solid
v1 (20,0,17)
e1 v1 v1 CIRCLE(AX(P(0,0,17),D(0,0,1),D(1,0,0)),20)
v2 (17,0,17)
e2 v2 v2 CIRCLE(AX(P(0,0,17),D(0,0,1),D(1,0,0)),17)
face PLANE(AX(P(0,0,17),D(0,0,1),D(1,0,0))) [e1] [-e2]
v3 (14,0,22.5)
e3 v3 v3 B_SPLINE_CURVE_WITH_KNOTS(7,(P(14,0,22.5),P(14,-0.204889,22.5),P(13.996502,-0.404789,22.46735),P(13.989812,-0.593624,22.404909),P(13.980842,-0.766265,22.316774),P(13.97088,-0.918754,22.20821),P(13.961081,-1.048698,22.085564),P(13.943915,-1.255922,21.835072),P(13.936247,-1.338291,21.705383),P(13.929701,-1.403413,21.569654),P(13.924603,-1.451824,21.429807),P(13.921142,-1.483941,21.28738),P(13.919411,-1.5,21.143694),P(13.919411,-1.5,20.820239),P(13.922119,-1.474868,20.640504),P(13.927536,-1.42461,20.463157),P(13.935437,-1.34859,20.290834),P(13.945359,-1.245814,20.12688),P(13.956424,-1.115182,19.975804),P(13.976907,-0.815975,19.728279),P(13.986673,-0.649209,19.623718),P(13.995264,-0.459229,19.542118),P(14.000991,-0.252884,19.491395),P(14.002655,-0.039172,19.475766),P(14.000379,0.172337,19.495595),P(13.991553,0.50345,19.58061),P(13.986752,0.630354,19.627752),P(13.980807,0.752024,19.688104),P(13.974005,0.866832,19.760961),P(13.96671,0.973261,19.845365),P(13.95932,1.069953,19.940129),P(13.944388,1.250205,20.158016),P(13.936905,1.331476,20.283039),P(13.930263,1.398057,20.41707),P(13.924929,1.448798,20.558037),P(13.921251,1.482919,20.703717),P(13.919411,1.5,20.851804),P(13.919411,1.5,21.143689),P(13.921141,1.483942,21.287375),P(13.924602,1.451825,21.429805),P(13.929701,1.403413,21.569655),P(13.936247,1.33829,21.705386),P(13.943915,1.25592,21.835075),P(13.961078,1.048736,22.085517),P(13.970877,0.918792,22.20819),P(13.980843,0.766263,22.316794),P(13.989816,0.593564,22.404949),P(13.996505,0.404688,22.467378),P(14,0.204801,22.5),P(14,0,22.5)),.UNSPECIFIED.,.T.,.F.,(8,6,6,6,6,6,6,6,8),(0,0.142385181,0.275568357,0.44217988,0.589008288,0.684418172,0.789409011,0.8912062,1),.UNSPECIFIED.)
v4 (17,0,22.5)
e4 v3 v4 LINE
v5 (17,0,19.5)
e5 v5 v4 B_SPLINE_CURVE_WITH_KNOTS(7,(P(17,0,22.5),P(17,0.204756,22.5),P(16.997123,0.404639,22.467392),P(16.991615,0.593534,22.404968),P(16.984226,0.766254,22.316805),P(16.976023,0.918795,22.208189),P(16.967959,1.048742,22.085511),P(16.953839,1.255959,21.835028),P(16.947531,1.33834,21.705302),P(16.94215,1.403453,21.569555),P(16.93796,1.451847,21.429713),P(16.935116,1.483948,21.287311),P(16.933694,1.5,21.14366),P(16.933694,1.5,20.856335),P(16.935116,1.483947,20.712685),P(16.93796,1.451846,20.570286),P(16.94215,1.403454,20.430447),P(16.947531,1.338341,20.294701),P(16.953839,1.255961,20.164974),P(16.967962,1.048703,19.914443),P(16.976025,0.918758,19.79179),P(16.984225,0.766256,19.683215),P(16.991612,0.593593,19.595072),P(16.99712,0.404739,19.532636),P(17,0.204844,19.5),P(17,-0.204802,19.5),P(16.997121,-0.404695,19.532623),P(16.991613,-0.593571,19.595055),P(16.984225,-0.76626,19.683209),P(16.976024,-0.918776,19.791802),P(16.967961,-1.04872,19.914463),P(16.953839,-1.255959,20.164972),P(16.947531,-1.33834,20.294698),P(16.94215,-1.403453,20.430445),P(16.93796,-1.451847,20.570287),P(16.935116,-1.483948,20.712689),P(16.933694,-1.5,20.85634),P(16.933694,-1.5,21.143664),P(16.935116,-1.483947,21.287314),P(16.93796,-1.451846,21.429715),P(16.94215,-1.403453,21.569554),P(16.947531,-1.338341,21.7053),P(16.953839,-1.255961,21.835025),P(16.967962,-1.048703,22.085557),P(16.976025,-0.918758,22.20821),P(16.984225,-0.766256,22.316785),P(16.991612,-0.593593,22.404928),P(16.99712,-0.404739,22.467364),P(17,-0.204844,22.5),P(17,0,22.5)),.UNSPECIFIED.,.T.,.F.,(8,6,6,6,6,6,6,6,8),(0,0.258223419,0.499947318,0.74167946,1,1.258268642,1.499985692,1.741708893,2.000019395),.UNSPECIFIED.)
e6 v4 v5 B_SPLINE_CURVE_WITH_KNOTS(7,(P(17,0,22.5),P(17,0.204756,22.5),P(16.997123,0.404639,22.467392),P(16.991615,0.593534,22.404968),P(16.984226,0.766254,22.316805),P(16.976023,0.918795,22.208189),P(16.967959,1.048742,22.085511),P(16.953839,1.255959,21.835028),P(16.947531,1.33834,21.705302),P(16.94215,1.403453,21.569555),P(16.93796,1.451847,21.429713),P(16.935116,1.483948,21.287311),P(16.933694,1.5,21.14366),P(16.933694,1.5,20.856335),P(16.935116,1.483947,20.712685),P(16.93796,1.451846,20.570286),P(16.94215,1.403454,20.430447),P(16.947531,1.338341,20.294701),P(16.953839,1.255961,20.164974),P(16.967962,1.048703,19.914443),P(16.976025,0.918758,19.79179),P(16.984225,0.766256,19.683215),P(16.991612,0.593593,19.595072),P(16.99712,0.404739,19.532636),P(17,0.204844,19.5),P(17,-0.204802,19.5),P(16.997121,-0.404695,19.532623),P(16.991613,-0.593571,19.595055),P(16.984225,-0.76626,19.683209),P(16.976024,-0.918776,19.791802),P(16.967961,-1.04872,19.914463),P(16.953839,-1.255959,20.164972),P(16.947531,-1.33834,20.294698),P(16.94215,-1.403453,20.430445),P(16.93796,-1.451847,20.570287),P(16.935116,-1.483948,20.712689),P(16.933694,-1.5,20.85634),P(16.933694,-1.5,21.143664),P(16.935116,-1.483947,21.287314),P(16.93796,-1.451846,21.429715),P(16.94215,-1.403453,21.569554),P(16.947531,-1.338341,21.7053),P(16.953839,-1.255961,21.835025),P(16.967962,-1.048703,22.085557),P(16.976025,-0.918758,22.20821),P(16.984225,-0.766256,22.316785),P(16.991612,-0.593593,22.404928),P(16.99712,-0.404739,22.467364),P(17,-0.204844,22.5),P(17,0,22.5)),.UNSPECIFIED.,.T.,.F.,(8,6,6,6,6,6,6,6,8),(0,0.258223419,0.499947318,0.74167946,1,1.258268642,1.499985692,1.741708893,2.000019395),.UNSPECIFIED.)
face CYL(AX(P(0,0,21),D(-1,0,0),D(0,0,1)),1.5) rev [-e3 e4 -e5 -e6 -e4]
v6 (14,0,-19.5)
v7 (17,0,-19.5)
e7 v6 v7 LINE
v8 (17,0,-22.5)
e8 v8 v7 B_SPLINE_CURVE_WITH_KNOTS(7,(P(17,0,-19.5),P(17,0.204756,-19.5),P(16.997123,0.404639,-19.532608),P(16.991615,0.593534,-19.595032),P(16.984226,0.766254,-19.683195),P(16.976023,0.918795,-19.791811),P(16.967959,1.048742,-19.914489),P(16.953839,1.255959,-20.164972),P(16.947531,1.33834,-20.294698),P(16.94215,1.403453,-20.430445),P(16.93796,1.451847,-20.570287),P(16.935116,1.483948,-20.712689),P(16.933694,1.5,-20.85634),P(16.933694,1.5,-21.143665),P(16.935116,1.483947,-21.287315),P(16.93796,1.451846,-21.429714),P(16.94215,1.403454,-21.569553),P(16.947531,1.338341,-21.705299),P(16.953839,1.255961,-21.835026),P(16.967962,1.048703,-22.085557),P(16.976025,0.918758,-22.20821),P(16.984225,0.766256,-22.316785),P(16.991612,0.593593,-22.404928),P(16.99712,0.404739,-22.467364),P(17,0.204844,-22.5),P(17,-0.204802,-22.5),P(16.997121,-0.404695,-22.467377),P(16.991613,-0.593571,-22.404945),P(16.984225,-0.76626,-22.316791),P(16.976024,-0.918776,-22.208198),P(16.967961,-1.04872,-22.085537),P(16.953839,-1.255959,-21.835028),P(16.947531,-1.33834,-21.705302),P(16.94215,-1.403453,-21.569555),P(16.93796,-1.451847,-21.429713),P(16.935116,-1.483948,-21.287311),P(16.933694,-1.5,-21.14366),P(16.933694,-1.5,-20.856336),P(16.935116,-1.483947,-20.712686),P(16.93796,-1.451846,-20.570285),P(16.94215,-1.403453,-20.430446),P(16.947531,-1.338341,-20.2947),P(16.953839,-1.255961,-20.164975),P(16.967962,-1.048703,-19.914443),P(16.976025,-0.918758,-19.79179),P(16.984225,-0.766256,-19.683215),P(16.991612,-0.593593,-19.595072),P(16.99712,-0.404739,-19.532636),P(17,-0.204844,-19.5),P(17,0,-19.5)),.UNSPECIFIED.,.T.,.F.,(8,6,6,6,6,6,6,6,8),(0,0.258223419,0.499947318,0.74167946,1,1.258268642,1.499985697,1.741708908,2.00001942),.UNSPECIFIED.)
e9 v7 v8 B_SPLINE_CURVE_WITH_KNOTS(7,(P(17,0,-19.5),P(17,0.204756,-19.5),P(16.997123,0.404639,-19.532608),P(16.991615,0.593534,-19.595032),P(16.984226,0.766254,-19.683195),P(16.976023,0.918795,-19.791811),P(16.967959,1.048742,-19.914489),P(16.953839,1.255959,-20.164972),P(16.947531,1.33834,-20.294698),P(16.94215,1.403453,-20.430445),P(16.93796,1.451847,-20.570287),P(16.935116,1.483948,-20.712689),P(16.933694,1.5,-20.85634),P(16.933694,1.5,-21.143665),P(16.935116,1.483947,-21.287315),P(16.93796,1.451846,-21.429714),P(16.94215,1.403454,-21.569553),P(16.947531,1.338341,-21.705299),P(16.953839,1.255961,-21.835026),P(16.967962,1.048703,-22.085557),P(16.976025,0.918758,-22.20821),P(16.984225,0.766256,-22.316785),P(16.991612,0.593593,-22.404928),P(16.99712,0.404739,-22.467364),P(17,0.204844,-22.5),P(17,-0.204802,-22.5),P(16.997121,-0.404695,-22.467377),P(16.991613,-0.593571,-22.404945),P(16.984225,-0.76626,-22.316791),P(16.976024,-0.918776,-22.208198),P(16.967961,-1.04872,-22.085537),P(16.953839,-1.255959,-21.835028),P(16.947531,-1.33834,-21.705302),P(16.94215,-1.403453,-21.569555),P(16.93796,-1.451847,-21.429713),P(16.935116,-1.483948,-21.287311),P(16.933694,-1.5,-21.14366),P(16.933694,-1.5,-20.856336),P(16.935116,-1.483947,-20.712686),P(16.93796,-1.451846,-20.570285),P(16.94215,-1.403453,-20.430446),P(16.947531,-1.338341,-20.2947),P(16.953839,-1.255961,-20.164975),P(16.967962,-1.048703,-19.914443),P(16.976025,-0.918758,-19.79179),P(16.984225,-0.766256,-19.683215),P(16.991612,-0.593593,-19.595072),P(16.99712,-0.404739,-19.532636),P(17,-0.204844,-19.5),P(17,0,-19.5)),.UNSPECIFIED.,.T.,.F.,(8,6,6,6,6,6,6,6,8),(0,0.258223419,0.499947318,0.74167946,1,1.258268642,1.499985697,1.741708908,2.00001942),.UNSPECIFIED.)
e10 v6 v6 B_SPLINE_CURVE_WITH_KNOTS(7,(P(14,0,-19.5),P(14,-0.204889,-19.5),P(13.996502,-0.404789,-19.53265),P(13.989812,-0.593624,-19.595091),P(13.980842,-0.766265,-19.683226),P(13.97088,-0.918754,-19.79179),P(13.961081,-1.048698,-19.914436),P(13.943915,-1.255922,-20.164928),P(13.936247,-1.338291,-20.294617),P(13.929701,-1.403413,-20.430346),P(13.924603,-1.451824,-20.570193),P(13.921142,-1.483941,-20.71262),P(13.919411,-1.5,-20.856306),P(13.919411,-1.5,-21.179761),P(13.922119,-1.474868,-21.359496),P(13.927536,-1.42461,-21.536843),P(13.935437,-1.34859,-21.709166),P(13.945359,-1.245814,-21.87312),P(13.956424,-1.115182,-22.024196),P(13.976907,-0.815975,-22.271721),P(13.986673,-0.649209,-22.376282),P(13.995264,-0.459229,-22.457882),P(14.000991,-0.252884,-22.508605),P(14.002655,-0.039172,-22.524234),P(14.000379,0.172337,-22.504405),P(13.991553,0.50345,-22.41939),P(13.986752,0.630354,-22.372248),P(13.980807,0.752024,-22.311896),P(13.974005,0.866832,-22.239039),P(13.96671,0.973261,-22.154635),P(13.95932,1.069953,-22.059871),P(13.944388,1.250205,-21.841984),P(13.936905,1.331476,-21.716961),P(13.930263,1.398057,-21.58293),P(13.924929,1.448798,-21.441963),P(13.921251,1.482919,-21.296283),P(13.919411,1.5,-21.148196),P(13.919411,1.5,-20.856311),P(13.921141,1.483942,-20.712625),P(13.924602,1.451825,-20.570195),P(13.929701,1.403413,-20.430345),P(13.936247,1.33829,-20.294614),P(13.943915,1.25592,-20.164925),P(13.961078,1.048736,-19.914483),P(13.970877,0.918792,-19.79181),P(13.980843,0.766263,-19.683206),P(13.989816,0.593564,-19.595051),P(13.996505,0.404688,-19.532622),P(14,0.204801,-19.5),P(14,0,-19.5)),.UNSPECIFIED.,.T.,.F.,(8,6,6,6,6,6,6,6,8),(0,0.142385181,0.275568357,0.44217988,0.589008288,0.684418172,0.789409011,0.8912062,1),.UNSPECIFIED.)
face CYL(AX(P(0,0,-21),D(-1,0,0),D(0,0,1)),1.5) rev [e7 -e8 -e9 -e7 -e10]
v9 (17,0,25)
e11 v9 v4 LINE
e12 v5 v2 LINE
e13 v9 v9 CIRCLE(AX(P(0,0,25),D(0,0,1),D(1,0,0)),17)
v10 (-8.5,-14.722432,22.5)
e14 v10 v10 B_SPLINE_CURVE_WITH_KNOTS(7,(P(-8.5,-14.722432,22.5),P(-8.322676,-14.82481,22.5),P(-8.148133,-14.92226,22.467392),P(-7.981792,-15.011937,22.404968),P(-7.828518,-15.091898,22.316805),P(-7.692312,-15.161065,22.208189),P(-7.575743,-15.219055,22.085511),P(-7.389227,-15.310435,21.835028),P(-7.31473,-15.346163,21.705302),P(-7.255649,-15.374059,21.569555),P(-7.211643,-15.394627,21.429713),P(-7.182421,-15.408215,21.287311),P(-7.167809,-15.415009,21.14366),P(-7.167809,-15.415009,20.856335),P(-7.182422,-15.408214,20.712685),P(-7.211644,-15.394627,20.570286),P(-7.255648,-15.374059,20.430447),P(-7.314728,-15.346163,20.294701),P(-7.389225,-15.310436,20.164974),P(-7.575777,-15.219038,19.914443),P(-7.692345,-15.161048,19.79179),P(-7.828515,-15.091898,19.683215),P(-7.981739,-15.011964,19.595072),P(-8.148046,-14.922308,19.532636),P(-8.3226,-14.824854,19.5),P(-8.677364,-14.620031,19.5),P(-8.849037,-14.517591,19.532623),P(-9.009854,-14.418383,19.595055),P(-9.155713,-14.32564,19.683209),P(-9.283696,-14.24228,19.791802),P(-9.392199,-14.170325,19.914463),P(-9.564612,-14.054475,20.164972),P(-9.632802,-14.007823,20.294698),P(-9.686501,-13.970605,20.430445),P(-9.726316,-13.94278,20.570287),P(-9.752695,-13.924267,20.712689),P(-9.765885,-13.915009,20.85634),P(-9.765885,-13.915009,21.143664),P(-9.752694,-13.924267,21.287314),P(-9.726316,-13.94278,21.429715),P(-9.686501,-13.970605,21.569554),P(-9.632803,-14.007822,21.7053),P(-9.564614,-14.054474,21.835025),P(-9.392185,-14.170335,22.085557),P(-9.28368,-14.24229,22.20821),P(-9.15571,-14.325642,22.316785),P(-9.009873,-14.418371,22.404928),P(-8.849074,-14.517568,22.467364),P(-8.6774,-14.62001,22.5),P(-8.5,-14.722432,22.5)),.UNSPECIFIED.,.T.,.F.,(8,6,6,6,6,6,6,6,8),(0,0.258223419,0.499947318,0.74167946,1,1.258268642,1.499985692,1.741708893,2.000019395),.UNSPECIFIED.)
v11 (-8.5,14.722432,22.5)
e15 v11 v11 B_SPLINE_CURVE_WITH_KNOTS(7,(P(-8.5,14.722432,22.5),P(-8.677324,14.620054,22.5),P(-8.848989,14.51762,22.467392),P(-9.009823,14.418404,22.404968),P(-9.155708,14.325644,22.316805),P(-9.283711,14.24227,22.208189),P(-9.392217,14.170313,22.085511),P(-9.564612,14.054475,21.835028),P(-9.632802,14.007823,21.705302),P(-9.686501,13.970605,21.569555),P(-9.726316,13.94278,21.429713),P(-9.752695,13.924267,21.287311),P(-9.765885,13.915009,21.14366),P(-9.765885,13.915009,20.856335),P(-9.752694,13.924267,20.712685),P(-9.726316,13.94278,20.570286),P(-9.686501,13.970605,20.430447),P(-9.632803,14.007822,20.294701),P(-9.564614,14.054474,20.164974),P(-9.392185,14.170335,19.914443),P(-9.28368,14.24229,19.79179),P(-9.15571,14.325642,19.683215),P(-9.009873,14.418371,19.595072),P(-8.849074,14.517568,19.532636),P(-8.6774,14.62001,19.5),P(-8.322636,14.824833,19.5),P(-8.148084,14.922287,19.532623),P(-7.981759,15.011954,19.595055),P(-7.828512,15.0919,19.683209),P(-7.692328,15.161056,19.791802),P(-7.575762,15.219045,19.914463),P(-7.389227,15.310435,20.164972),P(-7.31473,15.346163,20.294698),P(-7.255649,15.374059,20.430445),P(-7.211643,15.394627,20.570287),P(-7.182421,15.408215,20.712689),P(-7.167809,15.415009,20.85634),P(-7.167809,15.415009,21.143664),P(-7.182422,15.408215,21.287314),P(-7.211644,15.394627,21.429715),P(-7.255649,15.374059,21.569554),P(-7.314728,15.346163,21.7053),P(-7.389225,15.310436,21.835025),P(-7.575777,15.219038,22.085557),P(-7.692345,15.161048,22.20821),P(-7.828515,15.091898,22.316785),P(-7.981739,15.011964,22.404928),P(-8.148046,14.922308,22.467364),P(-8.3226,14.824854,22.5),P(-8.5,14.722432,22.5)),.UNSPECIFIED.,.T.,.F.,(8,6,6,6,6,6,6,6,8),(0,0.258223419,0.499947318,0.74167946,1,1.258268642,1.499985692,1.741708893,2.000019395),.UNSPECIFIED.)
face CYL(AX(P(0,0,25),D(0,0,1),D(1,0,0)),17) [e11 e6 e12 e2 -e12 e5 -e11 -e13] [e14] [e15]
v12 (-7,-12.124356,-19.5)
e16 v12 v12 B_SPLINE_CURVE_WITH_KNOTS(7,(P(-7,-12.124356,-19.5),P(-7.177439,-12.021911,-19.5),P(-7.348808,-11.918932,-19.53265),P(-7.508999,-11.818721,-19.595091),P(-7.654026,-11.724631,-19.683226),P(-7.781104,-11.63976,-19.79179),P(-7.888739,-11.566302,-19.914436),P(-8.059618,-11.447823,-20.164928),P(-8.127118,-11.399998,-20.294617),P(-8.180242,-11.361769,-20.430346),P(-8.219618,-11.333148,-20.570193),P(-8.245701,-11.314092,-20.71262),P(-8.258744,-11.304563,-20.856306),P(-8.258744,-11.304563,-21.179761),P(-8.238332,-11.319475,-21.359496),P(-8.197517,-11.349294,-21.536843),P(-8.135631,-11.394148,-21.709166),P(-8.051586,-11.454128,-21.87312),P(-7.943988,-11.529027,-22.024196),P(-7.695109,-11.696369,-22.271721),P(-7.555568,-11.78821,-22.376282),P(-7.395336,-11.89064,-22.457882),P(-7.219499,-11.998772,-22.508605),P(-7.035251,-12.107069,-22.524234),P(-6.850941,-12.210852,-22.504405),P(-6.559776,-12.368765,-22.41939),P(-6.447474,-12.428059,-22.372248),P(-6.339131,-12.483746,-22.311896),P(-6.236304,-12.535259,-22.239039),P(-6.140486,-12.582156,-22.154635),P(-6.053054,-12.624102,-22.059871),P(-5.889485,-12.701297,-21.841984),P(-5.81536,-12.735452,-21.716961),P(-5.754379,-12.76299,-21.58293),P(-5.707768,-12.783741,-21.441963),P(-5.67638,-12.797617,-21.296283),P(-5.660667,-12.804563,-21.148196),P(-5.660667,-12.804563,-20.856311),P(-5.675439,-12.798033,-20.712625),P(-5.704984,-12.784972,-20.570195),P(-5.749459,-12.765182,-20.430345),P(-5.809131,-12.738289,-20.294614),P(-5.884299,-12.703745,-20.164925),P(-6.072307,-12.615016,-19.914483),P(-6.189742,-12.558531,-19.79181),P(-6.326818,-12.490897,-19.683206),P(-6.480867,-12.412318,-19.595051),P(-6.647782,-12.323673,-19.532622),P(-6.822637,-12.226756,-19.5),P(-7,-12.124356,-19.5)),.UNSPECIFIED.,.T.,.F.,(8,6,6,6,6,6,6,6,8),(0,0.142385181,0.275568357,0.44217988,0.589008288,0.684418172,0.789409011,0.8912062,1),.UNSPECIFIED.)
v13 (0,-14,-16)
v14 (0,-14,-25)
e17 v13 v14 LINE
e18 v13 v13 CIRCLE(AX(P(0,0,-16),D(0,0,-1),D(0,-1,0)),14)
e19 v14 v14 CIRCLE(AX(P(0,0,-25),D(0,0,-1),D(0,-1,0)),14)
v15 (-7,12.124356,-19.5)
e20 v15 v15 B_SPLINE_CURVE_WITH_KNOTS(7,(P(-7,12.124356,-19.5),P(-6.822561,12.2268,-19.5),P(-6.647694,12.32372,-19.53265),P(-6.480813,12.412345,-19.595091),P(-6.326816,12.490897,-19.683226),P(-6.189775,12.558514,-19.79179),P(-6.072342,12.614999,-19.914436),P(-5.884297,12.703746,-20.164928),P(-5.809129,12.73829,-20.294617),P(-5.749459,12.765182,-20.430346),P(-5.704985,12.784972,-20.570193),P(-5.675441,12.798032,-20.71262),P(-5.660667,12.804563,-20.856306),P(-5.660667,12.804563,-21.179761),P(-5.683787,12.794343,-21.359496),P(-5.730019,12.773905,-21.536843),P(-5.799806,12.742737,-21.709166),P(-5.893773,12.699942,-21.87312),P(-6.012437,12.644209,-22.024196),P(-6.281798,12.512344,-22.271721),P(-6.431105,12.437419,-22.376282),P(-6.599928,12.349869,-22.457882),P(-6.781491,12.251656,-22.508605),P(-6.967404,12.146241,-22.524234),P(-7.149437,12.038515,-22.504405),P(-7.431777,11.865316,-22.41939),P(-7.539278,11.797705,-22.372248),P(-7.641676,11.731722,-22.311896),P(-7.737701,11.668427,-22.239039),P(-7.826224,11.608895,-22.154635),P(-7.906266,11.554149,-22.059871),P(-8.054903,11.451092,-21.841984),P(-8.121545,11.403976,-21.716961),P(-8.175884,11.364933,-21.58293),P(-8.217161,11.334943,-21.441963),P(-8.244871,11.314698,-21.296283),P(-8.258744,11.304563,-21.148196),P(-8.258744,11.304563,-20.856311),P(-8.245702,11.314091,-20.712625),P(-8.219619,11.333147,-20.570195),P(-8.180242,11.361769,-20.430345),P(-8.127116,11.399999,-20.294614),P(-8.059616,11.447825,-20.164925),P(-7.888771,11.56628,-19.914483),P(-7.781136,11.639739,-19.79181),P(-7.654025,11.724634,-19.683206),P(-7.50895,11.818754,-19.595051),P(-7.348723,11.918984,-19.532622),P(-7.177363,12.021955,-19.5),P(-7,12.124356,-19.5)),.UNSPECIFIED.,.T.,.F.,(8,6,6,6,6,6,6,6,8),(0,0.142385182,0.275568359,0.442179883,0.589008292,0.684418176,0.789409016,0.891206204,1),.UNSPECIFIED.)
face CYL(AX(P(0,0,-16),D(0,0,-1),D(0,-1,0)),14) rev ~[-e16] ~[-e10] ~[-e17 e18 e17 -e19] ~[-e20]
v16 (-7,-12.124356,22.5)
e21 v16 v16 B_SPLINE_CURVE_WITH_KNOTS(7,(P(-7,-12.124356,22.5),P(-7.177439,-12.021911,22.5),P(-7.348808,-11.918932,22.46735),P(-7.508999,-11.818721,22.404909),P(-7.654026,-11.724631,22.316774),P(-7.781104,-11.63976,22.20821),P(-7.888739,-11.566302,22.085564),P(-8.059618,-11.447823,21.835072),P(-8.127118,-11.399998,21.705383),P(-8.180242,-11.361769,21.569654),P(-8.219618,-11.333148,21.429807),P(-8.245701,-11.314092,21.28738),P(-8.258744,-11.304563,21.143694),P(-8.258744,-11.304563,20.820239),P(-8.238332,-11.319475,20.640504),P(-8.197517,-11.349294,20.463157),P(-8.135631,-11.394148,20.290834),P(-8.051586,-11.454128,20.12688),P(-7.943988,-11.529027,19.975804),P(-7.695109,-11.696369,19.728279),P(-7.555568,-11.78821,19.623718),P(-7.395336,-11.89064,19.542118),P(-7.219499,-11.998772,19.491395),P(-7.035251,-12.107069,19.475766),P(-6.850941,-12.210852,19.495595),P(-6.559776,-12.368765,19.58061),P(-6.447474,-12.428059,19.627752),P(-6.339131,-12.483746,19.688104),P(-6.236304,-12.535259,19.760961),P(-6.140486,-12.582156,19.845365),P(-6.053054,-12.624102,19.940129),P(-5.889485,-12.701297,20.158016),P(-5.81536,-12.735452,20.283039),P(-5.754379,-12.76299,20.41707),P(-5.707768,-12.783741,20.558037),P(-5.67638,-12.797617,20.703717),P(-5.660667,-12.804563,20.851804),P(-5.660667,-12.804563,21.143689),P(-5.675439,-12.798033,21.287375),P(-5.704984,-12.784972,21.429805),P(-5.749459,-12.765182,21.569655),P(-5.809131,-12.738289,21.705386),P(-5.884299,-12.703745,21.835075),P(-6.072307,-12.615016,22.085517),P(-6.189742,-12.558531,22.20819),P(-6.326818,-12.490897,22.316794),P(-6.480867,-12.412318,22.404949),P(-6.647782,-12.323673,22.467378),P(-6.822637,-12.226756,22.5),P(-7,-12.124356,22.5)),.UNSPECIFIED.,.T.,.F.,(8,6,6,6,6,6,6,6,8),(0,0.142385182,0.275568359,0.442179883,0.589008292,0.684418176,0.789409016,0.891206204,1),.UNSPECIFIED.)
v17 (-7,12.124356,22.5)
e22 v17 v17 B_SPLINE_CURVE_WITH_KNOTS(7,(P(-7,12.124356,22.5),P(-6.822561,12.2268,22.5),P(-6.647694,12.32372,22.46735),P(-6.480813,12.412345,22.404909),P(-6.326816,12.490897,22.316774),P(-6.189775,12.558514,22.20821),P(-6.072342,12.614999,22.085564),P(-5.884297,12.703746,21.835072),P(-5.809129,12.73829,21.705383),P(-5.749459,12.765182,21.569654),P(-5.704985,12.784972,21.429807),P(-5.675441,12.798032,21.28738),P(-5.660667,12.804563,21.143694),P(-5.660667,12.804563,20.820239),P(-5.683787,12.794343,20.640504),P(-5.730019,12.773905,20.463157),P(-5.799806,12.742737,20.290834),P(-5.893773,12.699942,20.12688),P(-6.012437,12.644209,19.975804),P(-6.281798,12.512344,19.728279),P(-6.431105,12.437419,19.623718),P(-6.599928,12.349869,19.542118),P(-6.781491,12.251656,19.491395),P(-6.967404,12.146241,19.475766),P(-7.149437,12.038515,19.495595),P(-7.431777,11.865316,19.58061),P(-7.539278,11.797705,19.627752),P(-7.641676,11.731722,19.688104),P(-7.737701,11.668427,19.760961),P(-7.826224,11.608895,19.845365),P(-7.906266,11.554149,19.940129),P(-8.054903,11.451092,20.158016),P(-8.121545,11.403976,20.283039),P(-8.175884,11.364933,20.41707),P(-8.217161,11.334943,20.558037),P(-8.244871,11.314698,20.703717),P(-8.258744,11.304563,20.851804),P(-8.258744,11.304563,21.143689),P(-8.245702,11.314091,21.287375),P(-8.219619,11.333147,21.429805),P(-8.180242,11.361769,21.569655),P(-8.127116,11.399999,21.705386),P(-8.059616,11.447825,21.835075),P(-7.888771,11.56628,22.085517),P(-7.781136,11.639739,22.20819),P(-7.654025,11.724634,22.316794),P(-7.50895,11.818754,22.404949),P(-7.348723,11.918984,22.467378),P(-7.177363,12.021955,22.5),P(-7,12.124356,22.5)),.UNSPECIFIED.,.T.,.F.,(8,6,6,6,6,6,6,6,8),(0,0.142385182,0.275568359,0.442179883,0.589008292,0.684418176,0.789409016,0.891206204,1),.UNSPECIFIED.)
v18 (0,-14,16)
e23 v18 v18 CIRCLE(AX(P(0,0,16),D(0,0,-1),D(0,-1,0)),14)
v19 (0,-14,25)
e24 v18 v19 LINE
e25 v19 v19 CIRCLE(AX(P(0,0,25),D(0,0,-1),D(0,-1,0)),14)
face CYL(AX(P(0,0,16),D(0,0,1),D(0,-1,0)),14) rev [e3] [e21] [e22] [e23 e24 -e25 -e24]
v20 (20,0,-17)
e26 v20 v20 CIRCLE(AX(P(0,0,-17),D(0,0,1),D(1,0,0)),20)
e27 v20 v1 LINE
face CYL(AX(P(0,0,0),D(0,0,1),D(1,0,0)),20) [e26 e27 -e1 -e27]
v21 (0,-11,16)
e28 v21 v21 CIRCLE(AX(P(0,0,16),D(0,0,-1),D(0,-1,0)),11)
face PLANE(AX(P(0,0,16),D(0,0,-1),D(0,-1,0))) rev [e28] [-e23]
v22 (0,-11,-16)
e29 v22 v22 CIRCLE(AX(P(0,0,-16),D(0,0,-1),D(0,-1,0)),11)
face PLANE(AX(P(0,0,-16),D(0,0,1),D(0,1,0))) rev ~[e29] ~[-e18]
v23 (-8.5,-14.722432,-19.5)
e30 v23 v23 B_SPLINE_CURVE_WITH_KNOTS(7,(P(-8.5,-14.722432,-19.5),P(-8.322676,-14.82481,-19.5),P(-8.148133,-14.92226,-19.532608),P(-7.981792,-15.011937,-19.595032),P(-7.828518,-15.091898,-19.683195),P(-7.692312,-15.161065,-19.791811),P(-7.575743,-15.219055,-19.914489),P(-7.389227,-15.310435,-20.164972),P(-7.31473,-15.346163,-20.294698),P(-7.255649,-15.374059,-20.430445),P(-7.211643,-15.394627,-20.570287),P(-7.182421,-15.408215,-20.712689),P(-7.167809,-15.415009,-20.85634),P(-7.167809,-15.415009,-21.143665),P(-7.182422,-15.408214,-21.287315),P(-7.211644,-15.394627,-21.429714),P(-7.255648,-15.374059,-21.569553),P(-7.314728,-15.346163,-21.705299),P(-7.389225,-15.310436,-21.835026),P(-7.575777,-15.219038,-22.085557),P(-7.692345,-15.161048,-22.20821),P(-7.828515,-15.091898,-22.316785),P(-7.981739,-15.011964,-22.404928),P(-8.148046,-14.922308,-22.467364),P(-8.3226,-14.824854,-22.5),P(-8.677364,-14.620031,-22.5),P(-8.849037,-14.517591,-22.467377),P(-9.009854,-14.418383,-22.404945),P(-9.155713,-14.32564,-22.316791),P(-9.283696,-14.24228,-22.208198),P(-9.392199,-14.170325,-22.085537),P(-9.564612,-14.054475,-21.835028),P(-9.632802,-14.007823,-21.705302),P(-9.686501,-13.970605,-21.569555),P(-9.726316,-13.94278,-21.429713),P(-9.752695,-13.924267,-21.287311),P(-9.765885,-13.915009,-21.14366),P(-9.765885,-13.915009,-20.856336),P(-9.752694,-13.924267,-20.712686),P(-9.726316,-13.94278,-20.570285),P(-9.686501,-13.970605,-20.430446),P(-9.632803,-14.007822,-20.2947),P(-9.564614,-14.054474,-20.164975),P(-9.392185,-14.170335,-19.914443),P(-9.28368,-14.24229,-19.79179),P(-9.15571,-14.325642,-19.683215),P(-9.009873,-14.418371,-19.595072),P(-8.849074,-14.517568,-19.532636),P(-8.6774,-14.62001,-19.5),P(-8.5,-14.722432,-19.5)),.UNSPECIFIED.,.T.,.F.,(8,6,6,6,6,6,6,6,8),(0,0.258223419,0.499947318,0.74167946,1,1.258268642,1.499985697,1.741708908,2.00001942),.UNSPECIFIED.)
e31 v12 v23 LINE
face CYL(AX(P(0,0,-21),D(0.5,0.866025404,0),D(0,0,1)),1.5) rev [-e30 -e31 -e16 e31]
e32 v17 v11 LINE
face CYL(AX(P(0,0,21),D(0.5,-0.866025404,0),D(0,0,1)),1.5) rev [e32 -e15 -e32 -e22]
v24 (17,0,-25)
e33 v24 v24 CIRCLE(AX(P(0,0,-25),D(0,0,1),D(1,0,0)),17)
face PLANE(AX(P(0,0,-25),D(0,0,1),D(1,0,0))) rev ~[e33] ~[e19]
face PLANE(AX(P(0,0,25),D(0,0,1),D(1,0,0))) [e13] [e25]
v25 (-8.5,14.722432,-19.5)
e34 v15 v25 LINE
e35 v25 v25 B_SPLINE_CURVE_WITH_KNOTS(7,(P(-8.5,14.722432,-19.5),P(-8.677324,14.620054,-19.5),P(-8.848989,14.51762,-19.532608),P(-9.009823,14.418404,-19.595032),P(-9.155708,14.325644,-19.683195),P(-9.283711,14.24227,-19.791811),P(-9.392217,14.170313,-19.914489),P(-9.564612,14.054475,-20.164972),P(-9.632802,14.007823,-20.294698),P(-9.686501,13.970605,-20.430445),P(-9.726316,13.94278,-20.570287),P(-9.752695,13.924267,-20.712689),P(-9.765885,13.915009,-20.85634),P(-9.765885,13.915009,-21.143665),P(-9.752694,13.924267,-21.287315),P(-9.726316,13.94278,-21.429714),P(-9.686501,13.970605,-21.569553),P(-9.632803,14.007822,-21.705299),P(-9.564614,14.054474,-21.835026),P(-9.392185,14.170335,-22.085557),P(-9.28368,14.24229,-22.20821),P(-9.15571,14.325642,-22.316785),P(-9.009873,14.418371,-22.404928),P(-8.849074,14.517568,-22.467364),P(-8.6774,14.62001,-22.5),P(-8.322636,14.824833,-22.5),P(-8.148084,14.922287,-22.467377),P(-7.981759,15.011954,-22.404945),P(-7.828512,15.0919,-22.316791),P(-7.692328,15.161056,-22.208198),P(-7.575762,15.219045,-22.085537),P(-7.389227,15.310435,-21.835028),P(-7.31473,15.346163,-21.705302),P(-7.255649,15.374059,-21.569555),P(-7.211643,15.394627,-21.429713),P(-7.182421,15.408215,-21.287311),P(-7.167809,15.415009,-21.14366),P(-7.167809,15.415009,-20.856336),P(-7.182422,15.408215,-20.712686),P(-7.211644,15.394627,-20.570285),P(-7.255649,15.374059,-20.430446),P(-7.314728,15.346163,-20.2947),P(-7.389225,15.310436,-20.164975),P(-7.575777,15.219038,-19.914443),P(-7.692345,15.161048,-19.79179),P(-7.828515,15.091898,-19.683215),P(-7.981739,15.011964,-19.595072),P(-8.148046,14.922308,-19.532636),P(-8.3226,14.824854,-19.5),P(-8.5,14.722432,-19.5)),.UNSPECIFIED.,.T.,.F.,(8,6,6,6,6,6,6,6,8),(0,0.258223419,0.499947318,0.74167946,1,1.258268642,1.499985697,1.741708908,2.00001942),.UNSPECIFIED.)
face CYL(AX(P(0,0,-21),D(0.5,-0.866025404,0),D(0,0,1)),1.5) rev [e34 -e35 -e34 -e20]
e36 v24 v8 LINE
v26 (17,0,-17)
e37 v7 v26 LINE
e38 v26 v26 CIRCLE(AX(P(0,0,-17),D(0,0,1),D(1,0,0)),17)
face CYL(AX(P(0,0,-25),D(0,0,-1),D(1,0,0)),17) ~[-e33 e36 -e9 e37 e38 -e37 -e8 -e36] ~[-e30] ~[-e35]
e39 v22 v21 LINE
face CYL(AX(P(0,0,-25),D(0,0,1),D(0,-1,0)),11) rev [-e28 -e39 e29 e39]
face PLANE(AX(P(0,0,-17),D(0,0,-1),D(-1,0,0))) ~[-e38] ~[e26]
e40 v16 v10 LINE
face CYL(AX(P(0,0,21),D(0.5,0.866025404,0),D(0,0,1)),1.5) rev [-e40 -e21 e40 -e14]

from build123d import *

# Parameters (mm, degrees)
SKETCH1_R               = 20
BOSS_EXTRUDE1_DEPTH     = 25
SKETCH4_R               = 20
SKETCH4_R_2             = 17
CUT_EXTRUDE1_DEPTH      = 8
CUT_EXTRUDE2_REACH      = 39.749
CUT_EXTRUDE2_END_RADIUS = 17
SKETCH5_R               = 1.5
CIRPATTERN1_COUNT       = 3


with BuildPart() as part:
    # Sketch1 → Boss-Extrude1 (new, symmetric)
    with BuildSketch(Plane.XY):
        Circle(SKETCH1_R)
    extrude(amount=BOSS_EXTRUDE1_DEPTH, both=True)

    # Sketch3 → Hole1 (revolve, cut)
    with BuildSketch(Plane(origin=(0, 0, 25), x_dir=(0, -1, 0), z_dir=(1, 0, 0))):
        Polygon((0, 0), (0, 56.609466809), (11, 50), (11, 9), (14, 9), (14, 0), align=None)
    hole1 = revolve(axis=Axis((0, 0, 36.310875039), (0, 0, -1)), mode=Mode.SUBTRACT)

    # Sketch4 → Cut-Extrude1 (cut)
    with BuildSketch(Plane.XY.offset(25)):
        Circle(SKETCH4_R)
        Circle(SKETCH4_R_2, mode=Mode.SUBTRACT)
    cut_extrude1 = extrude(amount=-CUT_EXTRUDE1_DEPTH, mode=Mode.SUBTRACT)

    # Mirror2: Hole1, Cut-Extrude1 across plane
    add(hole1.mirror(Plane.XY), mode=Mode.SUBTRACT)
    add(cut_extrude1.mirror(Plane.XY), mode=Mode.SUBTRACT)

    # Cut-Extrude2: up to this cylinder (the profile starts inside it)
    cut_extrude2_end = Plane(origin=(0, 0, 0), z_dir=(0, 0, 1)) * Cylinder(CUT_EXTRUDE2_END_RADIUS, 156.498, mode=Mode.PRIVATE)
    # Sketch5 → Cut-Extrude2 (cut, up to the surface)
    with BuildSketch(Plane(origin=(0, 0, 0), x_dir=(0, 0, -1), z_dir=(1, 0, 0)), mode=Mode.PRIVATE) as cut_extrude2_sk1:
        with Locations(Location((-21, 0, 0), (0, 0, 180))):
            Circle(SKETCH5_R)
    cut_extrude2_tool1 = extrude(cut_extrude2_sk1.sketch, amount=CUT_EXTRUDE2_REACH, mode=Mode.PRIVATE) & cut_extrude2_end
    # Sketch5 → Cut-Extrude2 (cut, up to the surface)
    with BuildSketch(Plane(origin=(0, 0, 0), x_dir=(0, 0, -1), z_dir=(1, 0, 0)), mode=Mode.PRIVATE) as cut_extrude2_sk2:
        with Locations(Location((21, 0, 0), (0, 0, 180))):
            Circle(SKETCH5_R)
    cut_extrude2_tool2 = extrude(cut_extrude2_sk2.sketch, amount=CUT_EXTRUDE2_REACH, mode=Mode.PRIVATE) & cut_extrude2_end
    cut_extrude2 = cut_extrude2_tool1.solids().sort_by_distance((0, 0, 21))[0] + cut_extrude2_tool2.solids().sort_by_distance((0, 0, -21))[0]
    add(cut_extrude2, mode=Mode.SUBTRACT)

    # CirPattern1: Cut-Extrude2 ×3 about axis
    cirpattern1_axis = Axis((0, 0, 25), (0, 0, 1))
    for i in range(1, CIRPATTERN1_COUNT):
        add(cut_extrude2.rotate(cirpattern1_axis, i * 360 / CIRPATTERN1_COUNT), mode=Mode.SUBTRACT)


solid = part.part
